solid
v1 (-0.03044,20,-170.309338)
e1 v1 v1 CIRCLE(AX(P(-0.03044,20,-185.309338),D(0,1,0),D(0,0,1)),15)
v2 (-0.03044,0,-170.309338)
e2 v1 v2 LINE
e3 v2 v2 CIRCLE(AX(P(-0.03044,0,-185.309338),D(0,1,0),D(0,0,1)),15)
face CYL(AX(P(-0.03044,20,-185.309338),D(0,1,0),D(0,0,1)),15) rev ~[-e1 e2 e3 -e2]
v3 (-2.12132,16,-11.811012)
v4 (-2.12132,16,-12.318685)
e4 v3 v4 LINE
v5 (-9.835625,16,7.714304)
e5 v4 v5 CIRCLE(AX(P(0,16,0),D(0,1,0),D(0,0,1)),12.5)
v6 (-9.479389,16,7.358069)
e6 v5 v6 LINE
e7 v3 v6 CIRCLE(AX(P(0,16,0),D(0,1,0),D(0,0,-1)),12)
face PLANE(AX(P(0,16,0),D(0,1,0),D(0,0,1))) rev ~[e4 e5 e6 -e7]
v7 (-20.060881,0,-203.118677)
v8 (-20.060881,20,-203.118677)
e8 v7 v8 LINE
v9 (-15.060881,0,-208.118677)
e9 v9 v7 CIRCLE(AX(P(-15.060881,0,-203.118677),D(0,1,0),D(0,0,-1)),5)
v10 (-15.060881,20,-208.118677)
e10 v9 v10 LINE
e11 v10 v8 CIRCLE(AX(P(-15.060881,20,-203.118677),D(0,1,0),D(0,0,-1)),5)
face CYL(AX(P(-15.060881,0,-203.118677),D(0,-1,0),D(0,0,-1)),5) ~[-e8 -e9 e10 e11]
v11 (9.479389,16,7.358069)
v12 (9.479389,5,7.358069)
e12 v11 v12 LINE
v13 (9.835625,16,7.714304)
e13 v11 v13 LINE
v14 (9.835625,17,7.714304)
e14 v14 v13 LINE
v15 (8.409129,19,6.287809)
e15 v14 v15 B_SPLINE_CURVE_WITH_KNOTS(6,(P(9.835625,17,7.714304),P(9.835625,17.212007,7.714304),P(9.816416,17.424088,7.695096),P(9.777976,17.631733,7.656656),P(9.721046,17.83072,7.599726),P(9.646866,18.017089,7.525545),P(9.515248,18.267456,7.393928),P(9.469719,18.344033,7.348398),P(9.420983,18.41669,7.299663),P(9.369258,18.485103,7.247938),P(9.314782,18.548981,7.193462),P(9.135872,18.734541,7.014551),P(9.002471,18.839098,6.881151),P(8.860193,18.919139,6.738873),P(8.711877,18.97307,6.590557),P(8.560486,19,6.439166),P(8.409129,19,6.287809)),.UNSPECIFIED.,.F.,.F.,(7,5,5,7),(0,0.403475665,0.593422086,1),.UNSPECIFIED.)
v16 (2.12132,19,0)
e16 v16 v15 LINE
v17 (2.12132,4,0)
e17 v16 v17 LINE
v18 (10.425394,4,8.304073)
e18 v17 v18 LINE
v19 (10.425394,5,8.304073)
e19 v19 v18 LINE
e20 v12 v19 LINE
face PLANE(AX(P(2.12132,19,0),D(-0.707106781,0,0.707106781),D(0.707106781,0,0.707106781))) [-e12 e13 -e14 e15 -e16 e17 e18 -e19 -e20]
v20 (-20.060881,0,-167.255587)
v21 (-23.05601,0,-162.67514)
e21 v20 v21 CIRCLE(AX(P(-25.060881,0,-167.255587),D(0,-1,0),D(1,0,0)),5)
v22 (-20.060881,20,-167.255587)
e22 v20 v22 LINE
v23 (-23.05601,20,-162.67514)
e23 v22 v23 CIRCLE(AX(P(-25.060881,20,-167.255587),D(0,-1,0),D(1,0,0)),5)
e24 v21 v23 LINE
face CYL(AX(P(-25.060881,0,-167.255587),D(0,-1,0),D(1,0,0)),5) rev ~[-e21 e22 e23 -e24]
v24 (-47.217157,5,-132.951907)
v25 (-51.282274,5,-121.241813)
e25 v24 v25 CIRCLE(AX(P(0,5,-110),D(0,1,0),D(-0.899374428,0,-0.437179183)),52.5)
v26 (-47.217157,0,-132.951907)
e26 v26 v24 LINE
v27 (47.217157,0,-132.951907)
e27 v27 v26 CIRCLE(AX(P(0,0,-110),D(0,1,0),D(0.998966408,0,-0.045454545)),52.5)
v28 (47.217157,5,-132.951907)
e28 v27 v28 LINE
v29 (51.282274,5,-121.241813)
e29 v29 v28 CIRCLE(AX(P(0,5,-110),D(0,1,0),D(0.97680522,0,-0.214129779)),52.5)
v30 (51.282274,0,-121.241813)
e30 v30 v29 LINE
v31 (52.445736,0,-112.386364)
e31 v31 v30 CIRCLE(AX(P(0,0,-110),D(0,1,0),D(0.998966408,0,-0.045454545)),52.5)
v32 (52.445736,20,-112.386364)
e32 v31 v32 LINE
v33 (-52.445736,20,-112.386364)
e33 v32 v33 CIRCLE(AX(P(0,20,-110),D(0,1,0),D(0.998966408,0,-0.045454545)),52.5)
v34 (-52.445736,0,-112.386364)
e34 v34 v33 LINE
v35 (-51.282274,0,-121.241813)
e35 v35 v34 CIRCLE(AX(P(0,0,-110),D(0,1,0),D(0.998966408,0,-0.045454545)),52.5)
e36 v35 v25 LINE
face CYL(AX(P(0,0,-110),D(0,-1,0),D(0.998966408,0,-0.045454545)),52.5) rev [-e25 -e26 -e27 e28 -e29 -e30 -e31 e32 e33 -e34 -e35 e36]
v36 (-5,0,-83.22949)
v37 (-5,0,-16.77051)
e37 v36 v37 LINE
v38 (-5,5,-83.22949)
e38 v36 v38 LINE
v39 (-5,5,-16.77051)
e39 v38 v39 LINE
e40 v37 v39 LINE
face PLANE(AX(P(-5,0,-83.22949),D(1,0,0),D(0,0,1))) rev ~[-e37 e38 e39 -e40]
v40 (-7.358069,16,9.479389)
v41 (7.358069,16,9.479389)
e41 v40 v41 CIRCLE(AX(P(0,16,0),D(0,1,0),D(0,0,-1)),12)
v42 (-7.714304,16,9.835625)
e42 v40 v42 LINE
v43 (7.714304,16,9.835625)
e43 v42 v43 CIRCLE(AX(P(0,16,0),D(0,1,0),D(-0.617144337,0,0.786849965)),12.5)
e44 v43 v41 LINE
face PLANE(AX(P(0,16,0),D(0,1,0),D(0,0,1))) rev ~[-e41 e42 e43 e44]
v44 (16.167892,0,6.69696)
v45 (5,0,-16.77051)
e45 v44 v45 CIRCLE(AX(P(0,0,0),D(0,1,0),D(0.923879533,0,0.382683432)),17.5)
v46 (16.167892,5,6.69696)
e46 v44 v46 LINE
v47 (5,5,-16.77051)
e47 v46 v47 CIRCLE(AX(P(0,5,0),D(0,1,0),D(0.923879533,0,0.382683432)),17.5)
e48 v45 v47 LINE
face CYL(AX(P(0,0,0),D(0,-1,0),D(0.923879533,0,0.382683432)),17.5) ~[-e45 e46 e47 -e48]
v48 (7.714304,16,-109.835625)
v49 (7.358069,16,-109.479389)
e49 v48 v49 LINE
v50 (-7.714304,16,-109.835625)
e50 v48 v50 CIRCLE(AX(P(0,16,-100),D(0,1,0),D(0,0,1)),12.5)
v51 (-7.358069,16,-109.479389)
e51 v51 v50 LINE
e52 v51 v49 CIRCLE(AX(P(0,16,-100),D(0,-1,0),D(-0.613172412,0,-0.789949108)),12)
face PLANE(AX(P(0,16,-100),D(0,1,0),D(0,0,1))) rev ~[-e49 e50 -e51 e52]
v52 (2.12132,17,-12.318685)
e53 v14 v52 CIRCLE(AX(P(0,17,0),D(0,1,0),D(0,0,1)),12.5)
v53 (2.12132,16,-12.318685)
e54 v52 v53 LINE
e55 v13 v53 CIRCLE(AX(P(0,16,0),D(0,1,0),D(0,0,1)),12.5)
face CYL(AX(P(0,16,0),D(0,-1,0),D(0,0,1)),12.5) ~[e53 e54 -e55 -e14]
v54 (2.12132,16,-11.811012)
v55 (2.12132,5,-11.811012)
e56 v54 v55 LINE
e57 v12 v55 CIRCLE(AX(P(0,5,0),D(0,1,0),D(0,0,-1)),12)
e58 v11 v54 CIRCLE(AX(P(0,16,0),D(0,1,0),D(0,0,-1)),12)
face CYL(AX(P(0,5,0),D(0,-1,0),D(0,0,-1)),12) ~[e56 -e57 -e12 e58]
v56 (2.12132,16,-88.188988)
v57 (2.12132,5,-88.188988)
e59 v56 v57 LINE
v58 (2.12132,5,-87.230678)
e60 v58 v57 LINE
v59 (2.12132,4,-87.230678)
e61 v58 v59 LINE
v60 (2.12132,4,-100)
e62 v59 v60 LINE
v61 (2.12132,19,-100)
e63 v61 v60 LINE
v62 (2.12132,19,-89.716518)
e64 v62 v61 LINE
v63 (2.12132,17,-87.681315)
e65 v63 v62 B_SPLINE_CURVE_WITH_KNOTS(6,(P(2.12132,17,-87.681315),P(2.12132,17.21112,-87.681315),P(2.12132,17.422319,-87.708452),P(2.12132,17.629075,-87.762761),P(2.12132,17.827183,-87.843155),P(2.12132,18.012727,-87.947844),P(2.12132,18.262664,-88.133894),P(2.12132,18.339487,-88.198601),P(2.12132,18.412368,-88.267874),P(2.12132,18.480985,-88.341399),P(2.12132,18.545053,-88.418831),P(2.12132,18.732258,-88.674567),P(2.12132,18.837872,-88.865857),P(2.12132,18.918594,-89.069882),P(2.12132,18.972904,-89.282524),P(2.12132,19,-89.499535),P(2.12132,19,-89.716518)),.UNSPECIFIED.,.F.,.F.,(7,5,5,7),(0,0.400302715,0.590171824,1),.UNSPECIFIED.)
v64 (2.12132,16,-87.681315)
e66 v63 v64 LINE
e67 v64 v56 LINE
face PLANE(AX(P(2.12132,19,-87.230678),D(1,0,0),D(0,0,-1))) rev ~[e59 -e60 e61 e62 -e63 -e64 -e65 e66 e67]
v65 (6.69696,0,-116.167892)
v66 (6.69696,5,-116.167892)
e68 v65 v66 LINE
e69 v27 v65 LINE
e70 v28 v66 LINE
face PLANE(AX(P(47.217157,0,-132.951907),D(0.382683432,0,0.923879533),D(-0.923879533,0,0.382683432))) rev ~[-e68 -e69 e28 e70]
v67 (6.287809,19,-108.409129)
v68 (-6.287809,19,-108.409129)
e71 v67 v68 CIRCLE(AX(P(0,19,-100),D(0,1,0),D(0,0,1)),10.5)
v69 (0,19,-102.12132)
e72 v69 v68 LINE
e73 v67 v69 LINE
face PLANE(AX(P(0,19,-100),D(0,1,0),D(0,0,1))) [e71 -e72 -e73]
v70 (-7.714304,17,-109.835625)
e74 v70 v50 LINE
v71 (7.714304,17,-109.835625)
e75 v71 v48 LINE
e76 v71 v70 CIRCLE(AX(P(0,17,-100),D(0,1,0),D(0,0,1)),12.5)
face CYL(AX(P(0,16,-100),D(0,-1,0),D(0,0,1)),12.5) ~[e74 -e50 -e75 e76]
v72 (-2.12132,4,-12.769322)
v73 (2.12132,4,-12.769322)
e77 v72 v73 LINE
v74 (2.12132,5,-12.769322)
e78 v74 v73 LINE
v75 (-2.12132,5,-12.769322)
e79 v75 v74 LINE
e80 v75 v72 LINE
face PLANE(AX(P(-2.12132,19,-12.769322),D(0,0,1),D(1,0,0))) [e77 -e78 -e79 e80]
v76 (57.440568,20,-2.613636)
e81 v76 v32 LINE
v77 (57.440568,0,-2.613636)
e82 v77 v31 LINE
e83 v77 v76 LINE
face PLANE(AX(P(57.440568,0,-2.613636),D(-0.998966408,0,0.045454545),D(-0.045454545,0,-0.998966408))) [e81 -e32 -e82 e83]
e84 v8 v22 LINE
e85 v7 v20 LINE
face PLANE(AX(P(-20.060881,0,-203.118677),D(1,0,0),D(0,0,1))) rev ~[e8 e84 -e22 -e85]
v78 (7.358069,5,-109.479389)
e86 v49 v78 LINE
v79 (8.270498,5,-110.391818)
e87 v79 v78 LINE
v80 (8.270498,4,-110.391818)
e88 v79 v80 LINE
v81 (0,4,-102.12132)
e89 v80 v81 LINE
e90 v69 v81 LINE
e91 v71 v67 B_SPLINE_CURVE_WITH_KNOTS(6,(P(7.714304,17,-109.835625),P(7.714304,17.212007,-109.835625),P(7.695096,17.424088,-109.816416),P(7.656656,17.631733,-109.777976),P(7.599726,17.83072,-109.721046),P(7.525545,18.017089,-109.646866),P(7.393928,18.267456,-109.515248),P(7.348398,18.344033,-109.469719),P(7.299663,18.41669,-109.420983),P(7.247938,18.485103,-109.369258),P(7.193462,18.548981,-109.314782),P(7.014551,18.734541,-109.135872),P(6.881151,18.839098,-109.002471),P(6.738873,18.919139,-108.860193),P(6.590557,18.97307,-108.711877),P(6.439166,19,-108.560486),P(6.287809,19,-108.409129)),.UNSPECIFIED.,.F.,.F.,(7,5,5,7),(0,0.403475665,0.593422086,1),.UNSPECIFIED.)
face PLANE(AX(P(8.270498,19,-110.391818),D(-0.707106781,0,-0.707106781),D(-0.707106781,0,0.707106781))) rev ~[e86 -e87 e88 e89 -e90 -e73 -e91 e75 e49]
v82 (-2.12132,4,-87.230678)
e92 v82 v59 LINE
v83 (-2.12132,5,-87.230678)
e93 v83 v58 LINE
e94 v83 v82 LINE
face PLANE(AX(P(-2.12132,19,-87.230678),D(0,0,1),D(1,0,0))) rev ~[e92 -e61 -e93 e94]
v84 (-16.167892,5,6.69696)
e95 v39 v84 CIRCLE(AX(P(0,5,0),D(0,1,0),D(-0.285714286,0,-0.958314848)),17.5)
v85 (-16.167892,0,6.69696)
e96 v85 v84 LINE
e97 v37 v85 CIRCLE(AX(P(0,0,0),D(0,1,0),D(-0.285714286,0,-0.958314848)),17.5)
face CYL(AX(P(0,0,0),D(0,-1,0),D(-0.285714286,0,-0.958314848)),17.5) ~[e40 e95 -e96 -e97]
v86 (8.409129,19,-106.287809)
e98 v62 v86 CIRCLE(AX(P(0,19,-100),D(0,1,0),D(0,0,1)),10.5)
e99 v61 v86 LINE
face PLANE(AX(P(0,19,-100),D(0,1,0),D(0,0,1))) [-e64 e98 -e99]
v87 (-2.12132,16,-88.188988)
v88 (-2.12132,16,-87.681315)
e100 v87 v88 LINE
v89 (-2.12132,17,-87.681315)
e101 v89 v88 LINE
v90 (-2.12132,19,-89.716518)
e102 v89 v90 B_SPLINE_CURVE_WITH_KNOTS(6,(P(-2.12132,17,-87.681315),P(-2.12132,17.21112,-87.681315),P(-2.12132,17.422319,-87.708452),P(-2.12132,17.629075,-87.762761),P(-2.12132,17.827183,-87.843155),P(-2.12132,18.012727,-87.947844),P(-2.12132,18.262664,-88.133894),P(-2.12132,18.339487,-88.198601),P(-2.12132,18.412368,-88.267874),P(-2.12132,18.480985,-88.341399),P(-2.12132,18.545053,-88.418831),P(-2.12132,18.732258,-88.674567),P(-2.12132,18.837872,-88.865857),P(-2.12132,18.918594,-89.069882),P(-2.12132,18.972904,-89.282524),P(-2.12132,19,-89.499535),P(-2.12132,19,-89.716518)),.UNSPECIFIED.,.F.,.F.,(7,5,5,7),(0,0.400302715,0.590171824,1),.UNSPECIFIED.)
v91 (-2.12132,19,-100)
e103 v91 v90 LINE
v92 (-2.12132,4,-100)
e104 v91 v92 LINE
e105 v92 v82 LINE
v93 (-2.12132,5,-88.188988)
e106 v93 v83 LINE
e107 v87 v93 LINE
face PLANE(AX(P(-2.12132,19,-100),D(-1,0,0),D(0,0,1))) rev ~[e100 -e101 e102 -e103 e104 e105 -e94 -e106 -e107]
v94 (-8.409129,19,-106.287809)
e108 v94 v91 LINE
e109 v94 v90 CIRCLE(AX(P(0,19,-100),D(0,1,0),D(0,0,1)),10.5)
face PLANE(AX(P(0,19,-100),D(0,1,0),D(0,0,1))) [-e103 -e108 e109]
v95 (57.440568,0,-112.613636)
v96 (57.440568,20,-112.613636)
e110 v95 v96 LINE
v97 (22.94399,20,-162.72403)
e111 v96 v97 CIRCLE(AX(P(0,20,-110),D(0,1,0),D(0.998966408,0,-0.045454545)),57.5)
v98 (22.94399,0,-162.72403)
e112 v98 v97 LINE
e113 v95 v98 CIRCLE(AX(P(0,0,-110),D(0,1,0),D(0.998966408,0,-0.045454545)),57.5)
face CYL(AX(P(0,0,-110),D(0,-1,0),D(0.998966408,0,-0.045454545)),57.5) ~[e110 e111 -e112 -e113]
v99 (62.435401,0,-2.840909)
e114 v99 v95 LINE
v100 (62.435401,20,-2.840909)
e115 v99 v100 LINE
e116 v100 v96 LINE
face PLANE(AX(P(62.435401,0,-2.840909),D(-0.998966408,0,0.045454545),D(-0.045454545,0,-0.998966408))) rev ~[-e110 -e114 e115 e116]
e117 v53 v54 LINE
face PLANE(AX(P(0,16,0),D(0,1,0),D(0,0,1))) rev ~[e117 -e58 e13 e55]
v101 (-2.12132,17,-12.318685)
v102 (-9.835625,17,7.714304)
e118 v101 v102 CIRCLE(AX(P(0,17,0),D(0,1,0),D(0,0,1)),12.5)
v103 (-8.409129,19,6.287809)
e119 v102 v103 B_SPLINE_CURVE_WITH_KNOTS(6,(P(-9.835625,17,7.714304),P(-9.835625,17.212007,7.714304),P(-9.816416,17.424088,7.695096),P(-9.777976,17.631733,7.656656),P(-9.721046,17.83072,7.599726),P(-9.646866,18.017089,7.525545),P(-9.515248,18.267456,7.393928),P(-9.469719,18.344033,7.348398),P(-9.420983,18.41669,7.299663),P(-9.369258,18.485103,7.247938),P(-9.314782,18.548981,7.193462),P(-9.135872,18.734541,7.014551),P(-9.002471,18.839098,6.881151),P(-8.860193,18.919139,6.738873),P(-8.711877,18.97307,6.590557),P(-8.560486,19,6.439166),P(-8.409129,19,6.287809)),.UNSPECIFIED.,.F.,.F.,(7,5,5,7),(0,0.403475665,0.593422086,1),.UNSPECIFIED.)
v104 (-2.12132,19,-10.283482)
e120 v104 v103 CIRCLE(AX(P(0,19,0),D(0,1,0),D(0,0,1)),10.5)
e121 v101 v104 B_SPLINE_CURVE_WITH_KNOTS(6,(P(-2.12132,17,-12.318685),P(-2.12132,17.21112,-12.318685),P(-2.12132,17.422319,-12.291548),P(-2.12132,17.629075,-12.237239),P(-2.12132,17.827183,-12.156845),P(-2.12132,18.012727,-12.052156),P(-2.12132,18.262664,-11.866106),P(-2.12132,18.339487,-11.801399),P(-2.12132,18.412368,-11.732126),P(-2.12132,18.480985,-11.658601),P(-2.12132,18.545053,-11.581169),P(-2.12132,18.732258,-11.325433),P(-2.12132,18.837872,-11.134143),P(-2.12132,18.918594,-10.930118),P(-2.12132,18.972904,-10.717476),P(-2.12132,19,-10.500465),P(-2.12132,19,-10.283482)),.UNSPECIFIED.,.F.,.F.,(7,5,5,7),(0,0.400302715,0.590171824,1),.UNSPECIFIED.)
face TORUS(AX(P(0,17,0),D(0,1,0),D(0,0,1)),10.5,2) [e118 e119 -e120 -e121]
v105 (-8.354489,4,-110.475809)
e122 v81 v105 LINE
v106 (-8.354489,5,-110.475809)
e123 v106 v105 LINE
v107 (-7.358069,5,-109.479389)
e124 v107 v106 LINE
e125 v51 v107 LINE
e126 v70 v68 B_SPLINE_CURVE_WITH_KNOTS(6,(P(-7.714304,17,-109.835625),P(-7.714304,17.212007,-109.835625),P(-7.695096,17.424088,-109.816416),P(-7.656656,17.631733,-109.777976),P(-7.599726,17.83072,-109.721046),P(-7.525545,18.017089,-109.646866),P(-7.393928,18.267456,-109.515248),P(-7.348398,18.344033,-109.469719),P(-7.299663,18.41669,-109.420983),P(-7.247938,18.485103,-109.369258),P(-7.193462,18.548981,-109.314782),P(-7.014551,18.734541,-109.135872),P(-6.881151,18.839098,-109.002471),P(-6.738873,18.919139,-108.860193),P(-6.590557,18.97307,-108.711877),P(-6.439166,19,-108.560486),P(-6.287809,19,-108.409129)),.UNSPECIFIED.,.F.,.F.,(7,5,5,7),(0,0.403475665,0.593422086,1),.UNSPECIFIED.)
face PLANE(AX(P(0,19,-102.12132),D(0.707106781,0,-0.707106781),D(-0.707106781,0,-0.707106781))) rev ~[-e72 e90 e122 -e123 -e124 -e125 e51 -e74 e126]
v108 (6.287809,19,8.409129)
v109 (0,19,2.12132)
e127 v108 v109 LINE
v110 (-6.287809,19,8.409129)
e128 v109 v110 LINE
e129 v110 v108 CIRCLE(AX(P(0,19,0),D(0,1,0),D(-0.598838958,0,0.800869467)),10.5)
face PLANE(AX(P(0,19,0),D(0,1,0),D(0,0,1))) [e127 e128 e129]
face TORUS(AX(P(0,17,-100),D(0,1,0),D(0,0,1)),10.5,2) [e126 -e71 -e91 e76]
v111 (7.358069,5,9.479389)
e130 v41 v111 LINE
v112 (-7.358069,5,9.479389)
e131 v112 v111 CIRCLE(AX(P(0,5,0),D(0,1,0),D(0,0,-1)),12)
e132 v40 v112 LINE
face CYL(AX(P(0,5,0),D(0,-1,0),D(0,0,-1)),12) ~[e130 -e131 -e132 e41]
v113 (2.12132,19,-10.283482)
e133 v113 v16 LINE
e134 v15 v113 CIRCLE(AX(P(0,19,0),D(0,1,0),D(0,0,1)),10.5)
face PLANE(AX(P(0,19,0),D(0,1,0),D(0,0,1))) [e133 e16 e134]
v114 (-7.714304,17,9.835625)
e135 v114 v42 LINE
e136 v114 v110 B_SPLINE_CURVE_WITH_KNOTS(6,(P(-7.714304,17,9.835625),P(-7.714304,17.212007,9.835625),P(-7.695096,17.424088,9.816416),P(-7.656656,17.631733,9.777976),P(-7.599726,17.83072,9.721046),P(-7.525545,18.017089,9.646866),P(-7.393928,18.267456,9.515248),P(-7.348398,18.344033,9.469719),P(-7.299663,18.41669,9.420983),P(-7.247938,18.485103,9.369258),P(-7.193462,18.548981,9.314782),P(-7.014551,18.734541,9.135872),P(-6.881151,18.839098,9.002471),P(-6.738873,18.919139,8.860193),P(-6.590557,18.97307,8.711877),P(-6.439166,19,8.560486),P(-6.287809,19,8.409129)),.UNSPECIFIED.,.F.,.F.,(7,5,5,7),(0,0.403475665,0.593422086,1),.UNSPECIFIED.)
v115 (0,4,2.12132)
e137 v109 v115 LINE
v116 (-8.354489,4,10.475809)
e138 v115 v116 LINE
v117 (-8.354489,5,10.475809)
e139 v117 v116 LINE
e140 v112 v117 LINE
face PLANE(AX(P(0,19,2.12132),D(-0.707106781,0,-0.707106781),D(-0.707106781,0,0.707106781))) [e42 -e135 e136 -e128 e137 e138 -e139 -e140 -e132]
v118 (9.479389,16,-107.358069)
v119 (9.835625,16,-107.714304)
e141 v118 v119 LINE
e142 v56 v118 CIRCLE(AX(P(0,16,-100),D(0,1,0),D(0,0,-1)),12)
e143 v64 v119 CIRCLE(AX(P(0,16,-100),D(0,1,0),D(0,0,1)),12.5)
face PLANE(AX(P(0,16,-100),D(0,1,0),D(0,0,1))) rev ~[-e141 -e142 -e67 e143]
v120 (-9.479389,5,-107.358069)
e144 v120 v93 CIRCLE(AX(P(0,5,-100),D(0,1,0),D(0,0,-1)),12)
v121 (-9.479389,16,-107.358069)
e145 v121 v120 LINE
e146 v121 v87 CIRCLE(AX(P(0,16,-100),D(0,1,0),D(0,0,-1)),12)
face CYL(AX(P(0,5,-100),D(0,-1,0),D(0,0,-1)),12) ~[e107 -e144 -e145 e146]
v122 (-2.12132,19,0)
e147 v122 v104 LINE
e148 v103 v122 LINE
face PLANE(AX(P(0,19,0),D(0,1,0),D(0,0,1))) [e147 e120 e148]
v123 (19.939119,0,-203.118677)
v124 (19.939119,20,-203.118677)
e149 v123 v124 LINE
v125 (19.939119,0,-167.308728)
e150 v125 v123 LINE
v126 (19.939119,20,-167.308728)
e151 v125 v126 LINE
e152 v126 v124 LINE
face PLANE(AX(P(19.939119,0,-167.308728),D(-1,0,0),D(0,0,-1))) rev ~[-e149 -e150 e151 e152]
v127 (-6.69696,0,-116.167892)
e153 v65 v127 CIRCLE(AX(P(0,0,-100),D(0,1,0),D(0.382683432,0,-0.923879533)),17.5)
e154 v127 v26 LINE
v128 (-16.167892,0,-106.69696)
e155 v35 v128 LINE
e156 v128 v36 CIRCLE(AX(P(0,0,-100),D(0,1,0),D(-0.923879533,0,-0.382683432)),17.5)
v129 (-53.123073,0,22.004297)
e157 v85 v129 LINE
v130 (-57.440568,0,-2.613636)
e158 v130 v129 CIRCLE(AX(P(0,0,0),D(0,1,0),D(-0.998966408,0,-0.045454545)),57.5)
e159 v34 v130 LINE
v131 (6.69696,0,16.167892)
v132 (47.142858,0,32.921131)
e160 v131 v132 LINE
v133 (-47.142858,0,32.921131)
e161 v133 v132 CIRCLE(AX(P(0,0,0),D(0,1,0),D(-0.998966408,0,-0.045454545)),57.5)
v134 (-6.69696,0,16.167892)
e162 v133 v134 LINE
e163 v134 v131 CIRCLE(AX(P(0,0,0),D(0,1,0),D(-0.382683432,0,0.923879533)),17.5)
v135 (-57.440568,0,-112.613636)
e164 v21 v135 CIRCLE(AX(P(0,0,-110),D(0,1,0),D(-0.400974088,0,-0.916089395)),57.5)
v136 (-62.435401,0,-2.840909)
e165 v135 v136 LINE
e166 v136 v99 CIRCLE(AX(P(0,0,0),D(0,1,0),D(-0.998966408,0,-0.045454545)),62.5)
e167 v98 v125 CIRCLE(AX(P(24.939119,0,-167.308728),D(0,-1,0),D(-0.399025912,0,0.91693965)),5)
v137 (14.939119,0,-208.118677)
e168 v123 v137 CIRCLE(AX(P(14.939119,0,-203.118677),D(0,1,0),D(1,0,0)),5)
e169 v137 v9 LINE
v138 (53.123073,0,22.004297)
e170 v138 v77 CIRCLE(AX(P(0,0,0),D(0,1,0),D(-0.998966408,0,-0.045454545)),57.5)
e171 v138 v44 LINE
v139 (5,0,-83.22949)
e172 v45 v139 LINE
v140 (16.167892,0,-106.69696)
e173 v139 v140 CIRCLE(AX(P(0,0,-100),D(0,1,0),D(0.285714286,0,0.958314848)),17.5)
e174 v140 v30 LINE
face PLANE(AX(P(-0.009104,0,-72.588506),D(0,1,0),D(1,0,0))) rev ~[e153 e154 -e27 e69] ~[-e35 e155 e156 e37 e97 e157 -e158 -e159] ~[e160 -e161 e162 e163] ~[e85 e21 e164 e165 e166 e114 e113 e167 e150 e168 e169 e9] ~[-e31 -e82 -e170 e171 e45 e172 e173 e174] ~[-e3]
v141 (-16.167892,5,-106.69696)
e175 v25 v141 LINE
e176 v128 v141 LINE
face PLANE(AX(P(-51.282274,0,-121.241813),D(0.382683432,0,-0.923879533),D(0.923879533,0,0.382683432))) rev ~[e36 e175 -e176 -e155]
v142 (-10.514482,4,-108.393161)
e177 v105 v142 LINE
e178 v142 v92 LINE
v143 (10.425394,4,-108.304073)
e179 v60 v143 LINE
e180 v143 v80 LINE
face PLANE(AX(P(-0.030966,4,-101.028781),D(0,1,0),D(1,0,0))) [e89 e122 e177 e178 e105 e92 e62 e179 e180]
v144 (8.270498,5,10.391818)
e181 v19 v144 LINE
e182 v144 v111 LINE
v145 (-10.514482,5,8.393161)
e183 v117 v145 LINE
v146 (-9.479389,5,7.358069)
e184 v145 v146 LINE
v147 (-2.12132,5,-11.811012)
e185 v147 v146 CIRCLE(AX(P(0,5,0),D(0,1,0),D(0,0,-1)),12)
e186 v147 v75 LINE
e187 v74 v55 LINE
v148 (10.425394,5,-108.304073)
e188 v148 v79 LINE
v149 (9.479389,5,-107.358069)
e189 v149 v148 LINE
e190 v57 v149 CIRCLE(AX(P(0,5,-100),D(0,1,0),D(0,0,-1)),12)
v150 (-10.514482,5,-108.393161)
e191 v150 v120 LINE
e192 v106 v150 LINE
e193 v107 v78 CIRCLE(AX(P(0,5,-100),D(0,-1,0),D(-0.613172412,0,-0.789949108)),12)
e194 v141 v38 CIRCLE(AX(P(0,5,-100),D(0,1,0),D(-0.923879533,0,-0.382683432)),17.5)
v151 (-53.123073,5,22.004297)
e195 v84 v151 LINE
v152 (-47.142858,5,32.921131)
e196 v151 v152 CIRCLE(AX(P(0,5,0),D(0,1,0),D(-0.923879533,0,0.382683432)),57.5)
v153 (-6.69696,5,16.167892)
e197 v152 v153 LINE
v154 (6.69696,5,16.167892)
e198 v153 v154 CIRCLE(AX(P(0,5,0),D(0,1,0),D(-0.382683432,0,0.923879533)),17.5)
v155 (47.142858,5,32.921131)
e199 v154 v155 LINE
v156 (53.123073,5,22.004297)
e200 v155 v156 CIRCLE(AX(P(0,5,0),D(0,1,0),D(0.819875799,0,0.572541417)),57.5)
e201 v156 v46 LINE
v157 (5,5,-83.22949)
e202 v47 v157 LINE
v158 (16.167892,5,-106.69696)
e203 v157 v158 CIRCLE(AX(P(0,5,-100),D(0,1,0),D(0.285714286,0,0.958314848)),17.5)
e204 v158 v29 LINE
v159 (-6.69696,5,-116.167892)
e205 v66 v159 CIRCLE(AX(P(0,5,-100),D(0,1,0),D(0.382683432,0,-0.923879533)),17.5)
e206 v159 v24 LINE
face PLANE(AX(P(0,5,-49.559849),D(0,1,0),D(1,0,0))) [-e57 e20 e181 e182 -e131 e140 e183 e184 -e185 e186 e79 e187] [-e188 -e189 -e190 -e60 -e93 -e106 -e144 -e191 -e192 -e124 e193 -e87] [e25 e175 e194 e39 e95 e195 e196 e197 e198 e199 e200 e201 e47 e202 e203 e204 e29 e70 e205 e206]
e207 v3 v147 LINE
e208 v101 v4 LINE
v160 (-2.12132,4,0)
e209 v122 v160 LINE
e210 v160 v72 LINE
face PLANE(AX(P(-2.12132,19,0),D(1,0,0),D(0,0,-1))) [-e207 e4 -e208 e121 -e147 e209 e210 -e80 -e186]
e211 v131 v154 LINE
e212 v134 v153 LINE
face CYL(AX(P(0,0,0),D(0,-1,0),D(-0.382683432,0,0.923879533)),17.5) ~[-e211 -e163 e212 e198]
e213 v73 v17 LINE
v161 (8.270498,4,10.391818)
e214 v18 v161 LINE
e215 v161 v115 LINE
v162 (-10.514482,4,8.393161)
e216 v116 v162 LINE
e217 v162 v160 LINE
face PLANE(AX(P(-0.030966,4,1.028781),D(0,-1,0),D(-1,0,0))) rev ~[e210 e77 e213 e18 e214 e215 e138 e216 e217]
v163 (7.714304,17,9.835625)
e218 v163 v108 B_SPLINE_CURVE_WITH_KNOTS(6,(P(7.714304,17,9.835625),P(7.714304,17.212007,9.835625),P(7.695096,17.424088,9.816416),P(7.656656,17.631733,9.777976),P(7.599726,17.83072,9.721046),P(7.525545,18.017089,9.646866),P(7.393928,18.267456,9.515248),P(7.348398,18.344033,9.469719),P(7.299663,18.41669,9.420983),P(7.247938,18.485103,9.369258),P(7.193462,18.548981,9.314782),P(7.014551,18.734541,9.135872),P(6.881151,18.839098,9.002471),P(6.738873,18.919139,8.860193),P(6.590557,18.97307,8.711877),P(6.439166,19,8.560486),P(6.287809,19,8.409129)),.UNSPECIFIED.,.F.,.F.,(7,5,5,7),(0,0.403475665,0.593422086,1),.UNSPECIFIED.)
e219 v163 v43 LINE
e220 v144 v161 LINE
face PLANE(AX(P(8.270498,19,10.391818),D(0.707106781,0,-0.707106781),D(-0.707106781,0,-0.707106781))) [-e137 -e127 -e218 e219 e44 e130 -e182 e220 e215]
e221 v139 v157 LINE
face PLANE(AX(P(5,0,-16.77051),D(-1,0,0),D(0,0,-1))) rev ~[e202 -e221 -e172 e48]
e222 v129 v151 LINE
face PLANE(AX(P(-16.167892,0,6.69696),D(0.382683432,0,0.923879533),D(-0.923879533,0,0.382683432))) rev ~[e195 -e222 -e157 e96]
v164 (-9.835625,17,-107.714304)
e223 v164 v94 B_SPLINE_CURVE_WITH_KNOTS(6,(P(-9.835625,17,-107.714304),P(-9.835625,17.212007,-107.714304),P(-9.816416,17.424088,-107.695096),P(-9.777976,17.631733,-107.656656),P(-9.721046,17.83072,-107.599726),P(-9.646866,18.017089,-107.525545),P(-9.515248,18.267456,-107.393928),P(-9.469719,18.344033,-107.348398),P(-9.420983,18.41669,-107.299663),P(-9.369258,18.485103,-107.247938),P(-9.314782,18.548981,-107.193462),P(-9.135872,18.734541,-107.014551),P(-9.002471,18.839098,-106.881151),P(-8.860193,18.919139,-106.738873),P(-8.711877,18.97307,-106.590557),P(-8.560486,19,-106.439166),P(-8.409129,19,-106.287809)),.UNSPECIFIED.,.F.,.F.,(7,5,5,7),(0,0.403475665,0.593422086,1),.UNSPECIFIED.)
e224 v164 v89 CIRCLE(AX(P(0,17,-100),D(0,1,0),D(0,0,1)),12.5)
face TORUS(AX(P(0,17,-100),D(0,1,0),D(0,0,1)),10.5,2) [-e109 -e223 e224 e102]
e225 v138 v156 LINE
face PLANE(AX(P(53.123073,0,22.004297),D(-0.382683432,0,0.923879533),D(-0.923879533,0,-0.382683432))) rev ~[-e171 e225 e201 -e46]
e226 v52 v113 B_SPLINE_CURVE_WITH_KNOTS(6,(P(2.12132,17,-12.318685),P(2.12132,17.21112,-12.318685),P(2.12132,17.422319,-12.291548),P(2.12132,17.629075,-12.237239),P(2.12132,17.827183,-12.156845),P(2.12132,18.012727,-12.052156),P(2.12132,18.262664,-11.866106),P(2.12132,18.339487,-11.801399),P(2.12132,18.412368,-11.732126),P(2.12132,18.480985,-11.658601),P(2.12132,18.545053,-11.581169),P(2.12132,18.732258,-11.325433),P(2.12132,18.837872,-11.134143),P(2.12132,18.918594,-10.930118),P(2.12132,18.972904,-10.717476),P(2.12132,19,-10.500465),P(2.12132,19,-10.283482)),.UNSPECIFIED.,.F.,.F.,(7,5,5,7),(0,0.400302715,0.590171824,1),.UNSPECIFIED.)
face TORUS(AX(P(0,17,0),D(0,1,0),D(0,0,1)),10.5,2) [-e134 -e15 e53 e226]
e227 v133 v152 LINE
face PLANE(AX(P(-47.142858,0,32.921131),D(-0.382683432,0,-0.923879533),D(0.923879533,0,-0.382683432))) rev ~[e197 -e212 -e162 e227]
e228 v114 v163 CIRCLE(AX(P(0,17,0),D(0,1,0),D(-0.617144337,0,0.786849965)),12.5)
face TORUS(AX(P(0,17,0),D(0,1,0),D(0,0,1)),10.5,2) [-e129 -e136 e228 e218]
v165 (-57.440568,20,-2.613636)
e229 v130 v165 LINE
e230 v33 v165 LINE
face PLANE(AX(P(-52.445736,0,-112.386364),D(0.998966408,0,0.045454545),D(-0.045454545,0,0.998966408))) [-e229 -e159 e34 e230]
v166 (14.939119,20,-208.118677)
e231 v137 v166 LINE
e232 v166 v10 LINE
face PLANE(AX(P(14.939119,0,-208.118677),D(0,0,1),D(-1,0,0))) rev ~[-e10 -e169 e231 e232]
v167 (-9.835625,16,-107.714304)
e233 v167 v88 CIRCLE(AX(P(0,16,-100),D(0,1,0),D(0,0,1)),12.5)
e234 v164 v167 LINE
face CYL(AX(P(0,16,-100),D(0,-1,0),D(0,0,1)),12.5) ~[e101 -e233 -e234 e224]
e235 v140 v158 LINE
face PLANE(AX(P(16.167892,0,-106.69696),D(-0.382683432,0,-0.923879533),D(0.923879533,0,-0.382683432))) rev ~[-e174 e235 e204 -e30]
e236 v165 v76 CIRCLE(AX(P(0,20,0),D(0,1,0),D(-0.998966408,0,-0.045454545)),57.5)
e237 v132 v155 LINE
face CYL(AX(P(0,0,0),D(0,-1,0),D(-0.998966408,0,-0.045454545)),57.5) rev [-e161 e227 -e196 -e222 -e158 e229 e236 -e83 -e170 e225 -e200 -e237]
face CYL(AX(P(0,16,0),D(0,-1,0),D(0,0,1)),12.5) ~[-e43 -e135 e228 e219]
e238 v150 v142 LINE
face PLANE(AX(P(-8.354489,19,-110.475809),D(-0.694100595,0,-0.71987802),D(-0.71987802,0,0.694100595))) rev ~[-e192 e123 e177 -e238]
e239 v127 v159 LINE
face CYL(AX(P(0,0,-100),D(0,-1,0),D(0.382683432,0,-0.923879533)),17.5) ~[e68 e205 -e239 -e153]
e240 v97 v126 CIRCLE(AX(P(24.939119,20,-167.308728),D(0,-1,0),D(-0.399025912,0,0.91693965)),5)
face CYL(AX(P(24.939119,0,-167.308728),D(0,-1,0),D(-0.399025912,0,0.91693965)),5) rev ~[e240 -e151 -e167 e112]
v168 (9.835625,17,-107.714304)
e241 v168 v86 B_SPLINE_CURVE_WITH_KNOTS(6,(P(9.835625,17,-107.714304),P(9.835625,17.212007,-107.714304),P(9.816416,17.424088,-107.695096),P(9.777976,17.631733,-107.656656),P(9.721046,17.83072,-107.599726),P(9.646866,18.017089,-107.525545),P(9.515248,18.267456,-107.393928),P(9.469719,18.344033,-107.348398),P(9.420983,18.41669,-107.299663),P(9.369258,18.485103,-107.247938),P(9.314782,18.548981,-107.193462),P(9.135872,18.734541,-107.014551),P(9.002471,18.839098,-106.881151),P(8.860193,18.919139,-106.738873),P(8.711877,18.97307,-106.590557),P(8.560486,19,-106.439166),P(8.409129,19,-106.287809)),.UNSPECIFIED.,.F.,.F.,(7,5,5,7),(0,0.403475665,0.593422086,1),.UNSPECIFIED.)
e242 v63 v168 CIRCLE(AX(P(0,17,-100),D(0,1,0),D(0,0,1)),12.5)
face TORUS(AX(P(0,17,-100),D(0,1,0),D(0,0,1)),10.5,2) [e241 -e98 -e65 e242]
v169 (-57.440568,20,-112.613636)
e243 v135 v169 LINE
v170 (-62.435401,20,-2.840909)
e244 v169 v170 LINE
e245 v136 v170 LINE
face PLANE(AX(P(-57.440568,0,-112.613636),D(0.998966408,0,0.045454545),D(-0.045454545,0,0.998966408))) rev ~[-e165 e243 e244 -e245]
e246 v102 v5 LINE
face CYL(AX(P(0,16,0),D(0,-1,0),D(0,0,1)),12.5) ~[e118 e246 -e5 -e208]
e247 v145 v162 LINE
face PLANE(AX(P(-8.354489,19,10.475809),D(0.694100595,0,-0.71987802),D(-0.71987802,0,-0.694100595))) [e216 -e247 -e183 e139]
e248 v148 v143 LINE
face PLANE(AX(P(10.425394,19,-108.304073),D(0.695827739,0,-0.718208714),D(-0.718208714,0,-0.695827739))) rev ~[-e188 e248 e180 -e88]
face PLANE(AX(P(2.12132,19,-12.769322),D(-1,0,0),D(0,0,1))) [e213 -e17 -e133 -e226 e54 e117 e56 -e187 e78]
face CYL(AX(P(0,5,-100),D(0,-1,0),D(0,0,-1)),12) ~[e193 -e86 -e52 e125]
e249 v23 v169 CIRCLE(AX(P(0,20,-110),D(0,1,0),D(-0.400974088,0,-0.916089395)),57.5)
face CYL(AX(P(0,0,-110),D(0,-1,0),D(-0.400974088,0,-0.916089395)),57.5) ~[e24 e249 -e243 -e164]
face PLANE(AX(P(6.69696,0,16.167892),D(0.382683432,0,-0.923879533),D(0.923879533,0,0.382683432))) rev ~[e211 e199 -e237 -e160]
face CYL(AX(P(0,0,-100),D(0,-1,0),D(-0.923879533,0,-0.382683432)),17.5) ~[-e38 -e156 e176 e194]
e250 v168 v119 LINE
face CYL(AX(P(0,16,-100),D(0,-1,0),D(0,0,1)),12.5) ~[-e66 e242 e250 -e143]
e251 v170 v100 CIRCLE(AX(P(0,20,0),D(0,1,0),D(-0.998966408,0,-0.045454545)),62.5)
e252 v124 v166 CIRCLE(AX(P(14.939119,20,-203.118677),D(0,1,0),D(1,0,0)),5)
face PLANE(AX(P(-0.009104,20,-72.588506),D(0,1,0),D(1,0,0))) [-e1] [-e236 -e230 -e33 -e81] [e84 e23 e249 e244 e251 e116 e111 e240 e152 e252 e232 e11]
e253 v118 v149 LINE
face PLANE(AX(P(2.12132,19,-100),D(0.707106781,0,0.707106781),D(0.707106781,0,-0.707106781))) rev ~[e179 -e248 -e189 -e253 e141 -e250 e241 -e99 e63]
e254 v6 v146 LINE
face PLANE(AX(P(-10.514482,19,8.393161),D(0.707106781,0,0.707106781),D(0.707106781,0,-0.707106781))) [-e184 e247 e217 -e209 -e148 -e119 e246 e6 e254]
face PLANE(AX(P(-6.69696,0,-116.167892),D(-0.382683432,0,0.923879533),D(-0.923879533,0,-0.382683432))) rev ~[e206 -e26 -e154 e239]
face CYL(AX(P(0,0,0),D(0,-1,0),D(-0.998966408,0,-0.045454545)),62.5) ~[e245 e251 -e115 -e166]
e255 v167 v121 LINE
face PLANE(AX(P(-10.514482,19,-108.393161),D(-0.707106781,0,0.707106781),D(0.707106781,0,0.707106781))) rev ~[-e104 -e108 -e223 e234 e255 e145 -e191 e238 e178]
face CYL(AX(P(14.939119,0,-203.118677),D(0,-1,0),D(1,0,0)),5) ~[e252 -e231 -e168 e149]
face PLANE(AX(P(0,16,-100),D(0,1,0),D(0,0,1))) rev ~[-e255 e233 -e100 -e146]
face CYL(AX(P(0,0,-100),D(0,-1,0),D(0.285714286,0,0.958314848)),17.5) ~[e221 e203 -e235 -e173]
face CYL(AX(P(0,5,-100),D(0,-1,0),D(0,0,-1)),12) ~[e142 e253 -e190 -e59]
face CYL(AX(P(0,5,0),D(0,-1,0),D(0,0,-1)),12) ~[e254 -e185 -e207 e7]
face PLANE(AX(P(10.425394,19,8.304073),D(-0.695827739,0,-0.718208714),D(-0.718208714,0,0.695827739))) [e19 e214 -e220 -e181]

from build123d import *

# Parameters (mm, degrees)
SALIENTE_EXTRUIR1_DEPTH = 20
SALIENTE_EXTRUIR2_DEPTH = 5
SKETCH1_R               = 12
BOSS_EXTRUDE1_DEPTH     = 11
SKETCH2_R               = 12.5
BOSS_EXTRUDE2_DEPTH     = 3
FILLET1_R               = 2
CUT_EXTRUDE2_DEPTH      = 15
SKETCH7_R               = 15
CUT_EXTRUDE3_DEPTH      = 28


with BuildPart() as part:
    # Croquis1 → Saliente-Extruir1 (new body)
    with BuildSketch(Plane(origin=(0, 0, 0), x_dir=(1, 0, 0), z_dir=(0, 1, 0))):
        with BuildLine():
            Line((-57.44056846, 112.613636364), (-62.4354005, 2.840909091))
            ThreePointArc((-62.4354005, 2.840909091), (0, -62.5), (62.4354005, 2.840909091))
            Line((62.4354005, 2.840909091), (57.44056846, 112.613636364))
            ThreePointArc((57.44056846, 112.613636364), (47.362244362, 142.604720655), (22.943989921, 162.724029877))
            ThreePointArc((22.943989921, 162.724029877), (20.757274923, 164.567893199), (19.93911948, 167.308728127))
            Line((19.93911948, 167.308728127), (19.93911948, 203.118676651))
            ThreePointArc((19.93911948, 203.118676651), (18.474653385, 206.654210557), (14.93911948, 208.118676651))
            Line((14.93911948, 208.118676651), (-15.06088052, 208.118676651))
            ThreePointArc((-15.06088052, 208.118676651), (-18.596414426, 206.654210557), (-20.06088052, 203.118676651))
            Line((-20.06088052, 203.118676651), (-20.06088052, 167.255587217))
            ThreePointArc((-20.06088052, 167.255587217), (-20.876125318, 164.519198375), (-23.056010079, 162.675140239))
            ThreePointArc((-23.056010079, 162.675140239), (-47.396870484, 142.554364812), (-57.44056846, 112.613636364))
        make_face()
        with BuildLine():
            Line((-52.44573642, 112.386363636), (-57.44056846, 2.613636364))
            ThreePointArc((-57.44056846, 2.613636364), (0, -57.5), (57.44056846, 2.613636364))
            Line((57.44056846, 2.613636364), (52.44573642, 112.386363636))
            ThreePointArc((52.44573642, 112.386363636), (0, 162.5), (-52.44573642, 112.386363636))
        make_face(mode=Mode.SUBTRACT)
    extrude(amount=SALIENTE_EXTRUIR1_DEPTH)



with BuildPart() as body_2:
    # Croquis2 → Saliente-Extruir2 (new body)
    with BuildSketch(Plane(origin=(0, 0, 0), x_dir=(-1, 0, 0), z_dir=(0, -1, 0))):
        with BuildLine():
            Line((5, 83.229490169), (5, 16.770509831))
            ThreePointArc((5, 16.770509831), (15.80191276, 7.519943692), (16.167891819, -6.696960066))
            Line((16.167891819, -6.696960066), (53.123073119, -22.004297361))
            ThreePointArc((53.123073119, -22.004297361), (50.429243253, -27.625014479), (47.142858448, -32.921131471))
            Line((47.142858448, -32.921131471), (6.696960066, -16.167891819))
            ThreePointArc((6.696960066, -16.167891819), (0, -17.5), (-6.696960066, -16.167891819))
            Line((-6.696960066, -16.167891819), (-47.142858448, -32.921131471))
            ThreePointArc((-47.142858448, -32.921131471), (-50.429243253, -27.625014479), (-53.123073119, -22.004297361))
            Line((-53.123073119, -22.004297361), (-16.167891819, -6.696960066))
            ThreePointArc((-16.167891819, -6.696960066), (-15.80191276, 7.519943692), (-5, 16.770509831))
            Line((-5, 16.770509831), (-5, 83.229490169))
            ThreePointArc((-5, 83.229490169), (-15.80191276, 92.480056308), (-16.167891819, 106.696960066))
            Line((-16.167891819, 106.696960066), (-51.282274043, 121.241813418))
            ThreePointArc((-51.282274043, 121.241813418), (-49.596532898, 127.217256589), (-47.217157465, 132.951907131))
            Line((-47.217157465, 132.951907131), (-6.696960066, 116.167891819))
            ThreePointArc((-6.696960066, 116.167891819), (0, 117.5), (6.696960066, 116.167891819))
            Line((6.696960066, 116.167891819), (47.217157465, 132.951907131))
            ThreePointArc((47.217157465, 132.951907131), (49.596532898, 127.217256589), (51.282274043, 121.241813418))
            Line((51.282274043, 121.241813418), (16.167891819, 106.696960066))
            ThreePointArc((16.167891819, 106.696960066), (15.80191276, 92.480056308), (5, 83.229490169))
        make_face()
    extrude(amount=-SALIENTE_EXTRUIR2_DEPTH)


with BuildPart() as part_1:
    add(part.part)

    add(body_2.part)  # Boss-Extrude1 merges body 2
    # Sketch1 → Boss-Extrude1 (add)
    with BuildSketch(Plane(origin=(0, 5, 0), x_dir=(1, 0, 0), z_dir=(0, 1, 0))):
        with Locations(Location((0, 100, 0), (0, 0, 90))):
            Circle(SKETCH1_R)
        with Locations(Location((0, 0, 0), (0, 0, 90))):
            Circle(SKETCH1_R)
    extrude(amount=BOSS_EXTRUDE1_DEPTH)

    # Sketch2 → Boss-Extrude2 (add)
    with BuildSketch(Plane(origin=(0, 16, 0), x_dir=(1, 0, 0), z_dir=(0, 1, 0))):
        with Locations(Location((0, 100, 0), (0, 0, 270))):
            Circle(SKETCH2_R)
        with Locations(Location((0, 0, 0), (0, 0, 270))):
            Circle(SKETCH2_R)
    extrude(amount=BOSS_EXTRUDE2_DEPTH)

    # Fillet1
    fillet1_edges = [part_1.edges().sort_by_distance(p)[0] for p in [
        (0, 19, -112.5),
        (0, 19, -12.5),
    ]]
    fillet(fillet1_edges, radius=FILLET1_R)

    # Sketch6 → Cut-Extrude2 (cut)
    with BuildSketch(Plane(origin=(0, 19, 0), x_dir=(1, 0, 0), z_dir=(0, 1, 0))):
        Polygon((-10.514481664, 108.393161321), (-2.121320344, 100), (-2.121320344, 87.230677616), (2.121320344, 87.230677616), (2.121320344, 100), (10.425393612, 108.304073268), (8.270497601, 110.391817945), (0, 102.121320344), (-8.354488758, 110.475809101), align=None)
        Polygon((-2.121320344, 12.769322384), (2.121320344, 12.769322384), (2.121320344, 0), (10.425393612, -8.304073268), (8.270497601, -10.391817945), (0, -2.121320344), (-8.354488758, -10.475809101), (-10.514481664, -8.393161321), (-2.121320344, 0), align=None)
    extrude(amount=-CUT_EXTRUDE2_DEPTH, mode=Mode.SUBTRACT)

    # Sketch7 → Cut-Extrude3 (cut)
    with BuildSketch(Plane(origin=(0, 20, 0), x_dir=(1, 0, 0), z_dir=(0, 1, 0))):
        with Locations(Location((-0.03044026, 185.309338326, 0), (0, 0, 270))):
            Circle(SKETCH7_R)
    extrude(amount=-CUT_EXTRUDE3_DEPTH, mode=Mode.SUBTRACT)


solid = part_1.part
